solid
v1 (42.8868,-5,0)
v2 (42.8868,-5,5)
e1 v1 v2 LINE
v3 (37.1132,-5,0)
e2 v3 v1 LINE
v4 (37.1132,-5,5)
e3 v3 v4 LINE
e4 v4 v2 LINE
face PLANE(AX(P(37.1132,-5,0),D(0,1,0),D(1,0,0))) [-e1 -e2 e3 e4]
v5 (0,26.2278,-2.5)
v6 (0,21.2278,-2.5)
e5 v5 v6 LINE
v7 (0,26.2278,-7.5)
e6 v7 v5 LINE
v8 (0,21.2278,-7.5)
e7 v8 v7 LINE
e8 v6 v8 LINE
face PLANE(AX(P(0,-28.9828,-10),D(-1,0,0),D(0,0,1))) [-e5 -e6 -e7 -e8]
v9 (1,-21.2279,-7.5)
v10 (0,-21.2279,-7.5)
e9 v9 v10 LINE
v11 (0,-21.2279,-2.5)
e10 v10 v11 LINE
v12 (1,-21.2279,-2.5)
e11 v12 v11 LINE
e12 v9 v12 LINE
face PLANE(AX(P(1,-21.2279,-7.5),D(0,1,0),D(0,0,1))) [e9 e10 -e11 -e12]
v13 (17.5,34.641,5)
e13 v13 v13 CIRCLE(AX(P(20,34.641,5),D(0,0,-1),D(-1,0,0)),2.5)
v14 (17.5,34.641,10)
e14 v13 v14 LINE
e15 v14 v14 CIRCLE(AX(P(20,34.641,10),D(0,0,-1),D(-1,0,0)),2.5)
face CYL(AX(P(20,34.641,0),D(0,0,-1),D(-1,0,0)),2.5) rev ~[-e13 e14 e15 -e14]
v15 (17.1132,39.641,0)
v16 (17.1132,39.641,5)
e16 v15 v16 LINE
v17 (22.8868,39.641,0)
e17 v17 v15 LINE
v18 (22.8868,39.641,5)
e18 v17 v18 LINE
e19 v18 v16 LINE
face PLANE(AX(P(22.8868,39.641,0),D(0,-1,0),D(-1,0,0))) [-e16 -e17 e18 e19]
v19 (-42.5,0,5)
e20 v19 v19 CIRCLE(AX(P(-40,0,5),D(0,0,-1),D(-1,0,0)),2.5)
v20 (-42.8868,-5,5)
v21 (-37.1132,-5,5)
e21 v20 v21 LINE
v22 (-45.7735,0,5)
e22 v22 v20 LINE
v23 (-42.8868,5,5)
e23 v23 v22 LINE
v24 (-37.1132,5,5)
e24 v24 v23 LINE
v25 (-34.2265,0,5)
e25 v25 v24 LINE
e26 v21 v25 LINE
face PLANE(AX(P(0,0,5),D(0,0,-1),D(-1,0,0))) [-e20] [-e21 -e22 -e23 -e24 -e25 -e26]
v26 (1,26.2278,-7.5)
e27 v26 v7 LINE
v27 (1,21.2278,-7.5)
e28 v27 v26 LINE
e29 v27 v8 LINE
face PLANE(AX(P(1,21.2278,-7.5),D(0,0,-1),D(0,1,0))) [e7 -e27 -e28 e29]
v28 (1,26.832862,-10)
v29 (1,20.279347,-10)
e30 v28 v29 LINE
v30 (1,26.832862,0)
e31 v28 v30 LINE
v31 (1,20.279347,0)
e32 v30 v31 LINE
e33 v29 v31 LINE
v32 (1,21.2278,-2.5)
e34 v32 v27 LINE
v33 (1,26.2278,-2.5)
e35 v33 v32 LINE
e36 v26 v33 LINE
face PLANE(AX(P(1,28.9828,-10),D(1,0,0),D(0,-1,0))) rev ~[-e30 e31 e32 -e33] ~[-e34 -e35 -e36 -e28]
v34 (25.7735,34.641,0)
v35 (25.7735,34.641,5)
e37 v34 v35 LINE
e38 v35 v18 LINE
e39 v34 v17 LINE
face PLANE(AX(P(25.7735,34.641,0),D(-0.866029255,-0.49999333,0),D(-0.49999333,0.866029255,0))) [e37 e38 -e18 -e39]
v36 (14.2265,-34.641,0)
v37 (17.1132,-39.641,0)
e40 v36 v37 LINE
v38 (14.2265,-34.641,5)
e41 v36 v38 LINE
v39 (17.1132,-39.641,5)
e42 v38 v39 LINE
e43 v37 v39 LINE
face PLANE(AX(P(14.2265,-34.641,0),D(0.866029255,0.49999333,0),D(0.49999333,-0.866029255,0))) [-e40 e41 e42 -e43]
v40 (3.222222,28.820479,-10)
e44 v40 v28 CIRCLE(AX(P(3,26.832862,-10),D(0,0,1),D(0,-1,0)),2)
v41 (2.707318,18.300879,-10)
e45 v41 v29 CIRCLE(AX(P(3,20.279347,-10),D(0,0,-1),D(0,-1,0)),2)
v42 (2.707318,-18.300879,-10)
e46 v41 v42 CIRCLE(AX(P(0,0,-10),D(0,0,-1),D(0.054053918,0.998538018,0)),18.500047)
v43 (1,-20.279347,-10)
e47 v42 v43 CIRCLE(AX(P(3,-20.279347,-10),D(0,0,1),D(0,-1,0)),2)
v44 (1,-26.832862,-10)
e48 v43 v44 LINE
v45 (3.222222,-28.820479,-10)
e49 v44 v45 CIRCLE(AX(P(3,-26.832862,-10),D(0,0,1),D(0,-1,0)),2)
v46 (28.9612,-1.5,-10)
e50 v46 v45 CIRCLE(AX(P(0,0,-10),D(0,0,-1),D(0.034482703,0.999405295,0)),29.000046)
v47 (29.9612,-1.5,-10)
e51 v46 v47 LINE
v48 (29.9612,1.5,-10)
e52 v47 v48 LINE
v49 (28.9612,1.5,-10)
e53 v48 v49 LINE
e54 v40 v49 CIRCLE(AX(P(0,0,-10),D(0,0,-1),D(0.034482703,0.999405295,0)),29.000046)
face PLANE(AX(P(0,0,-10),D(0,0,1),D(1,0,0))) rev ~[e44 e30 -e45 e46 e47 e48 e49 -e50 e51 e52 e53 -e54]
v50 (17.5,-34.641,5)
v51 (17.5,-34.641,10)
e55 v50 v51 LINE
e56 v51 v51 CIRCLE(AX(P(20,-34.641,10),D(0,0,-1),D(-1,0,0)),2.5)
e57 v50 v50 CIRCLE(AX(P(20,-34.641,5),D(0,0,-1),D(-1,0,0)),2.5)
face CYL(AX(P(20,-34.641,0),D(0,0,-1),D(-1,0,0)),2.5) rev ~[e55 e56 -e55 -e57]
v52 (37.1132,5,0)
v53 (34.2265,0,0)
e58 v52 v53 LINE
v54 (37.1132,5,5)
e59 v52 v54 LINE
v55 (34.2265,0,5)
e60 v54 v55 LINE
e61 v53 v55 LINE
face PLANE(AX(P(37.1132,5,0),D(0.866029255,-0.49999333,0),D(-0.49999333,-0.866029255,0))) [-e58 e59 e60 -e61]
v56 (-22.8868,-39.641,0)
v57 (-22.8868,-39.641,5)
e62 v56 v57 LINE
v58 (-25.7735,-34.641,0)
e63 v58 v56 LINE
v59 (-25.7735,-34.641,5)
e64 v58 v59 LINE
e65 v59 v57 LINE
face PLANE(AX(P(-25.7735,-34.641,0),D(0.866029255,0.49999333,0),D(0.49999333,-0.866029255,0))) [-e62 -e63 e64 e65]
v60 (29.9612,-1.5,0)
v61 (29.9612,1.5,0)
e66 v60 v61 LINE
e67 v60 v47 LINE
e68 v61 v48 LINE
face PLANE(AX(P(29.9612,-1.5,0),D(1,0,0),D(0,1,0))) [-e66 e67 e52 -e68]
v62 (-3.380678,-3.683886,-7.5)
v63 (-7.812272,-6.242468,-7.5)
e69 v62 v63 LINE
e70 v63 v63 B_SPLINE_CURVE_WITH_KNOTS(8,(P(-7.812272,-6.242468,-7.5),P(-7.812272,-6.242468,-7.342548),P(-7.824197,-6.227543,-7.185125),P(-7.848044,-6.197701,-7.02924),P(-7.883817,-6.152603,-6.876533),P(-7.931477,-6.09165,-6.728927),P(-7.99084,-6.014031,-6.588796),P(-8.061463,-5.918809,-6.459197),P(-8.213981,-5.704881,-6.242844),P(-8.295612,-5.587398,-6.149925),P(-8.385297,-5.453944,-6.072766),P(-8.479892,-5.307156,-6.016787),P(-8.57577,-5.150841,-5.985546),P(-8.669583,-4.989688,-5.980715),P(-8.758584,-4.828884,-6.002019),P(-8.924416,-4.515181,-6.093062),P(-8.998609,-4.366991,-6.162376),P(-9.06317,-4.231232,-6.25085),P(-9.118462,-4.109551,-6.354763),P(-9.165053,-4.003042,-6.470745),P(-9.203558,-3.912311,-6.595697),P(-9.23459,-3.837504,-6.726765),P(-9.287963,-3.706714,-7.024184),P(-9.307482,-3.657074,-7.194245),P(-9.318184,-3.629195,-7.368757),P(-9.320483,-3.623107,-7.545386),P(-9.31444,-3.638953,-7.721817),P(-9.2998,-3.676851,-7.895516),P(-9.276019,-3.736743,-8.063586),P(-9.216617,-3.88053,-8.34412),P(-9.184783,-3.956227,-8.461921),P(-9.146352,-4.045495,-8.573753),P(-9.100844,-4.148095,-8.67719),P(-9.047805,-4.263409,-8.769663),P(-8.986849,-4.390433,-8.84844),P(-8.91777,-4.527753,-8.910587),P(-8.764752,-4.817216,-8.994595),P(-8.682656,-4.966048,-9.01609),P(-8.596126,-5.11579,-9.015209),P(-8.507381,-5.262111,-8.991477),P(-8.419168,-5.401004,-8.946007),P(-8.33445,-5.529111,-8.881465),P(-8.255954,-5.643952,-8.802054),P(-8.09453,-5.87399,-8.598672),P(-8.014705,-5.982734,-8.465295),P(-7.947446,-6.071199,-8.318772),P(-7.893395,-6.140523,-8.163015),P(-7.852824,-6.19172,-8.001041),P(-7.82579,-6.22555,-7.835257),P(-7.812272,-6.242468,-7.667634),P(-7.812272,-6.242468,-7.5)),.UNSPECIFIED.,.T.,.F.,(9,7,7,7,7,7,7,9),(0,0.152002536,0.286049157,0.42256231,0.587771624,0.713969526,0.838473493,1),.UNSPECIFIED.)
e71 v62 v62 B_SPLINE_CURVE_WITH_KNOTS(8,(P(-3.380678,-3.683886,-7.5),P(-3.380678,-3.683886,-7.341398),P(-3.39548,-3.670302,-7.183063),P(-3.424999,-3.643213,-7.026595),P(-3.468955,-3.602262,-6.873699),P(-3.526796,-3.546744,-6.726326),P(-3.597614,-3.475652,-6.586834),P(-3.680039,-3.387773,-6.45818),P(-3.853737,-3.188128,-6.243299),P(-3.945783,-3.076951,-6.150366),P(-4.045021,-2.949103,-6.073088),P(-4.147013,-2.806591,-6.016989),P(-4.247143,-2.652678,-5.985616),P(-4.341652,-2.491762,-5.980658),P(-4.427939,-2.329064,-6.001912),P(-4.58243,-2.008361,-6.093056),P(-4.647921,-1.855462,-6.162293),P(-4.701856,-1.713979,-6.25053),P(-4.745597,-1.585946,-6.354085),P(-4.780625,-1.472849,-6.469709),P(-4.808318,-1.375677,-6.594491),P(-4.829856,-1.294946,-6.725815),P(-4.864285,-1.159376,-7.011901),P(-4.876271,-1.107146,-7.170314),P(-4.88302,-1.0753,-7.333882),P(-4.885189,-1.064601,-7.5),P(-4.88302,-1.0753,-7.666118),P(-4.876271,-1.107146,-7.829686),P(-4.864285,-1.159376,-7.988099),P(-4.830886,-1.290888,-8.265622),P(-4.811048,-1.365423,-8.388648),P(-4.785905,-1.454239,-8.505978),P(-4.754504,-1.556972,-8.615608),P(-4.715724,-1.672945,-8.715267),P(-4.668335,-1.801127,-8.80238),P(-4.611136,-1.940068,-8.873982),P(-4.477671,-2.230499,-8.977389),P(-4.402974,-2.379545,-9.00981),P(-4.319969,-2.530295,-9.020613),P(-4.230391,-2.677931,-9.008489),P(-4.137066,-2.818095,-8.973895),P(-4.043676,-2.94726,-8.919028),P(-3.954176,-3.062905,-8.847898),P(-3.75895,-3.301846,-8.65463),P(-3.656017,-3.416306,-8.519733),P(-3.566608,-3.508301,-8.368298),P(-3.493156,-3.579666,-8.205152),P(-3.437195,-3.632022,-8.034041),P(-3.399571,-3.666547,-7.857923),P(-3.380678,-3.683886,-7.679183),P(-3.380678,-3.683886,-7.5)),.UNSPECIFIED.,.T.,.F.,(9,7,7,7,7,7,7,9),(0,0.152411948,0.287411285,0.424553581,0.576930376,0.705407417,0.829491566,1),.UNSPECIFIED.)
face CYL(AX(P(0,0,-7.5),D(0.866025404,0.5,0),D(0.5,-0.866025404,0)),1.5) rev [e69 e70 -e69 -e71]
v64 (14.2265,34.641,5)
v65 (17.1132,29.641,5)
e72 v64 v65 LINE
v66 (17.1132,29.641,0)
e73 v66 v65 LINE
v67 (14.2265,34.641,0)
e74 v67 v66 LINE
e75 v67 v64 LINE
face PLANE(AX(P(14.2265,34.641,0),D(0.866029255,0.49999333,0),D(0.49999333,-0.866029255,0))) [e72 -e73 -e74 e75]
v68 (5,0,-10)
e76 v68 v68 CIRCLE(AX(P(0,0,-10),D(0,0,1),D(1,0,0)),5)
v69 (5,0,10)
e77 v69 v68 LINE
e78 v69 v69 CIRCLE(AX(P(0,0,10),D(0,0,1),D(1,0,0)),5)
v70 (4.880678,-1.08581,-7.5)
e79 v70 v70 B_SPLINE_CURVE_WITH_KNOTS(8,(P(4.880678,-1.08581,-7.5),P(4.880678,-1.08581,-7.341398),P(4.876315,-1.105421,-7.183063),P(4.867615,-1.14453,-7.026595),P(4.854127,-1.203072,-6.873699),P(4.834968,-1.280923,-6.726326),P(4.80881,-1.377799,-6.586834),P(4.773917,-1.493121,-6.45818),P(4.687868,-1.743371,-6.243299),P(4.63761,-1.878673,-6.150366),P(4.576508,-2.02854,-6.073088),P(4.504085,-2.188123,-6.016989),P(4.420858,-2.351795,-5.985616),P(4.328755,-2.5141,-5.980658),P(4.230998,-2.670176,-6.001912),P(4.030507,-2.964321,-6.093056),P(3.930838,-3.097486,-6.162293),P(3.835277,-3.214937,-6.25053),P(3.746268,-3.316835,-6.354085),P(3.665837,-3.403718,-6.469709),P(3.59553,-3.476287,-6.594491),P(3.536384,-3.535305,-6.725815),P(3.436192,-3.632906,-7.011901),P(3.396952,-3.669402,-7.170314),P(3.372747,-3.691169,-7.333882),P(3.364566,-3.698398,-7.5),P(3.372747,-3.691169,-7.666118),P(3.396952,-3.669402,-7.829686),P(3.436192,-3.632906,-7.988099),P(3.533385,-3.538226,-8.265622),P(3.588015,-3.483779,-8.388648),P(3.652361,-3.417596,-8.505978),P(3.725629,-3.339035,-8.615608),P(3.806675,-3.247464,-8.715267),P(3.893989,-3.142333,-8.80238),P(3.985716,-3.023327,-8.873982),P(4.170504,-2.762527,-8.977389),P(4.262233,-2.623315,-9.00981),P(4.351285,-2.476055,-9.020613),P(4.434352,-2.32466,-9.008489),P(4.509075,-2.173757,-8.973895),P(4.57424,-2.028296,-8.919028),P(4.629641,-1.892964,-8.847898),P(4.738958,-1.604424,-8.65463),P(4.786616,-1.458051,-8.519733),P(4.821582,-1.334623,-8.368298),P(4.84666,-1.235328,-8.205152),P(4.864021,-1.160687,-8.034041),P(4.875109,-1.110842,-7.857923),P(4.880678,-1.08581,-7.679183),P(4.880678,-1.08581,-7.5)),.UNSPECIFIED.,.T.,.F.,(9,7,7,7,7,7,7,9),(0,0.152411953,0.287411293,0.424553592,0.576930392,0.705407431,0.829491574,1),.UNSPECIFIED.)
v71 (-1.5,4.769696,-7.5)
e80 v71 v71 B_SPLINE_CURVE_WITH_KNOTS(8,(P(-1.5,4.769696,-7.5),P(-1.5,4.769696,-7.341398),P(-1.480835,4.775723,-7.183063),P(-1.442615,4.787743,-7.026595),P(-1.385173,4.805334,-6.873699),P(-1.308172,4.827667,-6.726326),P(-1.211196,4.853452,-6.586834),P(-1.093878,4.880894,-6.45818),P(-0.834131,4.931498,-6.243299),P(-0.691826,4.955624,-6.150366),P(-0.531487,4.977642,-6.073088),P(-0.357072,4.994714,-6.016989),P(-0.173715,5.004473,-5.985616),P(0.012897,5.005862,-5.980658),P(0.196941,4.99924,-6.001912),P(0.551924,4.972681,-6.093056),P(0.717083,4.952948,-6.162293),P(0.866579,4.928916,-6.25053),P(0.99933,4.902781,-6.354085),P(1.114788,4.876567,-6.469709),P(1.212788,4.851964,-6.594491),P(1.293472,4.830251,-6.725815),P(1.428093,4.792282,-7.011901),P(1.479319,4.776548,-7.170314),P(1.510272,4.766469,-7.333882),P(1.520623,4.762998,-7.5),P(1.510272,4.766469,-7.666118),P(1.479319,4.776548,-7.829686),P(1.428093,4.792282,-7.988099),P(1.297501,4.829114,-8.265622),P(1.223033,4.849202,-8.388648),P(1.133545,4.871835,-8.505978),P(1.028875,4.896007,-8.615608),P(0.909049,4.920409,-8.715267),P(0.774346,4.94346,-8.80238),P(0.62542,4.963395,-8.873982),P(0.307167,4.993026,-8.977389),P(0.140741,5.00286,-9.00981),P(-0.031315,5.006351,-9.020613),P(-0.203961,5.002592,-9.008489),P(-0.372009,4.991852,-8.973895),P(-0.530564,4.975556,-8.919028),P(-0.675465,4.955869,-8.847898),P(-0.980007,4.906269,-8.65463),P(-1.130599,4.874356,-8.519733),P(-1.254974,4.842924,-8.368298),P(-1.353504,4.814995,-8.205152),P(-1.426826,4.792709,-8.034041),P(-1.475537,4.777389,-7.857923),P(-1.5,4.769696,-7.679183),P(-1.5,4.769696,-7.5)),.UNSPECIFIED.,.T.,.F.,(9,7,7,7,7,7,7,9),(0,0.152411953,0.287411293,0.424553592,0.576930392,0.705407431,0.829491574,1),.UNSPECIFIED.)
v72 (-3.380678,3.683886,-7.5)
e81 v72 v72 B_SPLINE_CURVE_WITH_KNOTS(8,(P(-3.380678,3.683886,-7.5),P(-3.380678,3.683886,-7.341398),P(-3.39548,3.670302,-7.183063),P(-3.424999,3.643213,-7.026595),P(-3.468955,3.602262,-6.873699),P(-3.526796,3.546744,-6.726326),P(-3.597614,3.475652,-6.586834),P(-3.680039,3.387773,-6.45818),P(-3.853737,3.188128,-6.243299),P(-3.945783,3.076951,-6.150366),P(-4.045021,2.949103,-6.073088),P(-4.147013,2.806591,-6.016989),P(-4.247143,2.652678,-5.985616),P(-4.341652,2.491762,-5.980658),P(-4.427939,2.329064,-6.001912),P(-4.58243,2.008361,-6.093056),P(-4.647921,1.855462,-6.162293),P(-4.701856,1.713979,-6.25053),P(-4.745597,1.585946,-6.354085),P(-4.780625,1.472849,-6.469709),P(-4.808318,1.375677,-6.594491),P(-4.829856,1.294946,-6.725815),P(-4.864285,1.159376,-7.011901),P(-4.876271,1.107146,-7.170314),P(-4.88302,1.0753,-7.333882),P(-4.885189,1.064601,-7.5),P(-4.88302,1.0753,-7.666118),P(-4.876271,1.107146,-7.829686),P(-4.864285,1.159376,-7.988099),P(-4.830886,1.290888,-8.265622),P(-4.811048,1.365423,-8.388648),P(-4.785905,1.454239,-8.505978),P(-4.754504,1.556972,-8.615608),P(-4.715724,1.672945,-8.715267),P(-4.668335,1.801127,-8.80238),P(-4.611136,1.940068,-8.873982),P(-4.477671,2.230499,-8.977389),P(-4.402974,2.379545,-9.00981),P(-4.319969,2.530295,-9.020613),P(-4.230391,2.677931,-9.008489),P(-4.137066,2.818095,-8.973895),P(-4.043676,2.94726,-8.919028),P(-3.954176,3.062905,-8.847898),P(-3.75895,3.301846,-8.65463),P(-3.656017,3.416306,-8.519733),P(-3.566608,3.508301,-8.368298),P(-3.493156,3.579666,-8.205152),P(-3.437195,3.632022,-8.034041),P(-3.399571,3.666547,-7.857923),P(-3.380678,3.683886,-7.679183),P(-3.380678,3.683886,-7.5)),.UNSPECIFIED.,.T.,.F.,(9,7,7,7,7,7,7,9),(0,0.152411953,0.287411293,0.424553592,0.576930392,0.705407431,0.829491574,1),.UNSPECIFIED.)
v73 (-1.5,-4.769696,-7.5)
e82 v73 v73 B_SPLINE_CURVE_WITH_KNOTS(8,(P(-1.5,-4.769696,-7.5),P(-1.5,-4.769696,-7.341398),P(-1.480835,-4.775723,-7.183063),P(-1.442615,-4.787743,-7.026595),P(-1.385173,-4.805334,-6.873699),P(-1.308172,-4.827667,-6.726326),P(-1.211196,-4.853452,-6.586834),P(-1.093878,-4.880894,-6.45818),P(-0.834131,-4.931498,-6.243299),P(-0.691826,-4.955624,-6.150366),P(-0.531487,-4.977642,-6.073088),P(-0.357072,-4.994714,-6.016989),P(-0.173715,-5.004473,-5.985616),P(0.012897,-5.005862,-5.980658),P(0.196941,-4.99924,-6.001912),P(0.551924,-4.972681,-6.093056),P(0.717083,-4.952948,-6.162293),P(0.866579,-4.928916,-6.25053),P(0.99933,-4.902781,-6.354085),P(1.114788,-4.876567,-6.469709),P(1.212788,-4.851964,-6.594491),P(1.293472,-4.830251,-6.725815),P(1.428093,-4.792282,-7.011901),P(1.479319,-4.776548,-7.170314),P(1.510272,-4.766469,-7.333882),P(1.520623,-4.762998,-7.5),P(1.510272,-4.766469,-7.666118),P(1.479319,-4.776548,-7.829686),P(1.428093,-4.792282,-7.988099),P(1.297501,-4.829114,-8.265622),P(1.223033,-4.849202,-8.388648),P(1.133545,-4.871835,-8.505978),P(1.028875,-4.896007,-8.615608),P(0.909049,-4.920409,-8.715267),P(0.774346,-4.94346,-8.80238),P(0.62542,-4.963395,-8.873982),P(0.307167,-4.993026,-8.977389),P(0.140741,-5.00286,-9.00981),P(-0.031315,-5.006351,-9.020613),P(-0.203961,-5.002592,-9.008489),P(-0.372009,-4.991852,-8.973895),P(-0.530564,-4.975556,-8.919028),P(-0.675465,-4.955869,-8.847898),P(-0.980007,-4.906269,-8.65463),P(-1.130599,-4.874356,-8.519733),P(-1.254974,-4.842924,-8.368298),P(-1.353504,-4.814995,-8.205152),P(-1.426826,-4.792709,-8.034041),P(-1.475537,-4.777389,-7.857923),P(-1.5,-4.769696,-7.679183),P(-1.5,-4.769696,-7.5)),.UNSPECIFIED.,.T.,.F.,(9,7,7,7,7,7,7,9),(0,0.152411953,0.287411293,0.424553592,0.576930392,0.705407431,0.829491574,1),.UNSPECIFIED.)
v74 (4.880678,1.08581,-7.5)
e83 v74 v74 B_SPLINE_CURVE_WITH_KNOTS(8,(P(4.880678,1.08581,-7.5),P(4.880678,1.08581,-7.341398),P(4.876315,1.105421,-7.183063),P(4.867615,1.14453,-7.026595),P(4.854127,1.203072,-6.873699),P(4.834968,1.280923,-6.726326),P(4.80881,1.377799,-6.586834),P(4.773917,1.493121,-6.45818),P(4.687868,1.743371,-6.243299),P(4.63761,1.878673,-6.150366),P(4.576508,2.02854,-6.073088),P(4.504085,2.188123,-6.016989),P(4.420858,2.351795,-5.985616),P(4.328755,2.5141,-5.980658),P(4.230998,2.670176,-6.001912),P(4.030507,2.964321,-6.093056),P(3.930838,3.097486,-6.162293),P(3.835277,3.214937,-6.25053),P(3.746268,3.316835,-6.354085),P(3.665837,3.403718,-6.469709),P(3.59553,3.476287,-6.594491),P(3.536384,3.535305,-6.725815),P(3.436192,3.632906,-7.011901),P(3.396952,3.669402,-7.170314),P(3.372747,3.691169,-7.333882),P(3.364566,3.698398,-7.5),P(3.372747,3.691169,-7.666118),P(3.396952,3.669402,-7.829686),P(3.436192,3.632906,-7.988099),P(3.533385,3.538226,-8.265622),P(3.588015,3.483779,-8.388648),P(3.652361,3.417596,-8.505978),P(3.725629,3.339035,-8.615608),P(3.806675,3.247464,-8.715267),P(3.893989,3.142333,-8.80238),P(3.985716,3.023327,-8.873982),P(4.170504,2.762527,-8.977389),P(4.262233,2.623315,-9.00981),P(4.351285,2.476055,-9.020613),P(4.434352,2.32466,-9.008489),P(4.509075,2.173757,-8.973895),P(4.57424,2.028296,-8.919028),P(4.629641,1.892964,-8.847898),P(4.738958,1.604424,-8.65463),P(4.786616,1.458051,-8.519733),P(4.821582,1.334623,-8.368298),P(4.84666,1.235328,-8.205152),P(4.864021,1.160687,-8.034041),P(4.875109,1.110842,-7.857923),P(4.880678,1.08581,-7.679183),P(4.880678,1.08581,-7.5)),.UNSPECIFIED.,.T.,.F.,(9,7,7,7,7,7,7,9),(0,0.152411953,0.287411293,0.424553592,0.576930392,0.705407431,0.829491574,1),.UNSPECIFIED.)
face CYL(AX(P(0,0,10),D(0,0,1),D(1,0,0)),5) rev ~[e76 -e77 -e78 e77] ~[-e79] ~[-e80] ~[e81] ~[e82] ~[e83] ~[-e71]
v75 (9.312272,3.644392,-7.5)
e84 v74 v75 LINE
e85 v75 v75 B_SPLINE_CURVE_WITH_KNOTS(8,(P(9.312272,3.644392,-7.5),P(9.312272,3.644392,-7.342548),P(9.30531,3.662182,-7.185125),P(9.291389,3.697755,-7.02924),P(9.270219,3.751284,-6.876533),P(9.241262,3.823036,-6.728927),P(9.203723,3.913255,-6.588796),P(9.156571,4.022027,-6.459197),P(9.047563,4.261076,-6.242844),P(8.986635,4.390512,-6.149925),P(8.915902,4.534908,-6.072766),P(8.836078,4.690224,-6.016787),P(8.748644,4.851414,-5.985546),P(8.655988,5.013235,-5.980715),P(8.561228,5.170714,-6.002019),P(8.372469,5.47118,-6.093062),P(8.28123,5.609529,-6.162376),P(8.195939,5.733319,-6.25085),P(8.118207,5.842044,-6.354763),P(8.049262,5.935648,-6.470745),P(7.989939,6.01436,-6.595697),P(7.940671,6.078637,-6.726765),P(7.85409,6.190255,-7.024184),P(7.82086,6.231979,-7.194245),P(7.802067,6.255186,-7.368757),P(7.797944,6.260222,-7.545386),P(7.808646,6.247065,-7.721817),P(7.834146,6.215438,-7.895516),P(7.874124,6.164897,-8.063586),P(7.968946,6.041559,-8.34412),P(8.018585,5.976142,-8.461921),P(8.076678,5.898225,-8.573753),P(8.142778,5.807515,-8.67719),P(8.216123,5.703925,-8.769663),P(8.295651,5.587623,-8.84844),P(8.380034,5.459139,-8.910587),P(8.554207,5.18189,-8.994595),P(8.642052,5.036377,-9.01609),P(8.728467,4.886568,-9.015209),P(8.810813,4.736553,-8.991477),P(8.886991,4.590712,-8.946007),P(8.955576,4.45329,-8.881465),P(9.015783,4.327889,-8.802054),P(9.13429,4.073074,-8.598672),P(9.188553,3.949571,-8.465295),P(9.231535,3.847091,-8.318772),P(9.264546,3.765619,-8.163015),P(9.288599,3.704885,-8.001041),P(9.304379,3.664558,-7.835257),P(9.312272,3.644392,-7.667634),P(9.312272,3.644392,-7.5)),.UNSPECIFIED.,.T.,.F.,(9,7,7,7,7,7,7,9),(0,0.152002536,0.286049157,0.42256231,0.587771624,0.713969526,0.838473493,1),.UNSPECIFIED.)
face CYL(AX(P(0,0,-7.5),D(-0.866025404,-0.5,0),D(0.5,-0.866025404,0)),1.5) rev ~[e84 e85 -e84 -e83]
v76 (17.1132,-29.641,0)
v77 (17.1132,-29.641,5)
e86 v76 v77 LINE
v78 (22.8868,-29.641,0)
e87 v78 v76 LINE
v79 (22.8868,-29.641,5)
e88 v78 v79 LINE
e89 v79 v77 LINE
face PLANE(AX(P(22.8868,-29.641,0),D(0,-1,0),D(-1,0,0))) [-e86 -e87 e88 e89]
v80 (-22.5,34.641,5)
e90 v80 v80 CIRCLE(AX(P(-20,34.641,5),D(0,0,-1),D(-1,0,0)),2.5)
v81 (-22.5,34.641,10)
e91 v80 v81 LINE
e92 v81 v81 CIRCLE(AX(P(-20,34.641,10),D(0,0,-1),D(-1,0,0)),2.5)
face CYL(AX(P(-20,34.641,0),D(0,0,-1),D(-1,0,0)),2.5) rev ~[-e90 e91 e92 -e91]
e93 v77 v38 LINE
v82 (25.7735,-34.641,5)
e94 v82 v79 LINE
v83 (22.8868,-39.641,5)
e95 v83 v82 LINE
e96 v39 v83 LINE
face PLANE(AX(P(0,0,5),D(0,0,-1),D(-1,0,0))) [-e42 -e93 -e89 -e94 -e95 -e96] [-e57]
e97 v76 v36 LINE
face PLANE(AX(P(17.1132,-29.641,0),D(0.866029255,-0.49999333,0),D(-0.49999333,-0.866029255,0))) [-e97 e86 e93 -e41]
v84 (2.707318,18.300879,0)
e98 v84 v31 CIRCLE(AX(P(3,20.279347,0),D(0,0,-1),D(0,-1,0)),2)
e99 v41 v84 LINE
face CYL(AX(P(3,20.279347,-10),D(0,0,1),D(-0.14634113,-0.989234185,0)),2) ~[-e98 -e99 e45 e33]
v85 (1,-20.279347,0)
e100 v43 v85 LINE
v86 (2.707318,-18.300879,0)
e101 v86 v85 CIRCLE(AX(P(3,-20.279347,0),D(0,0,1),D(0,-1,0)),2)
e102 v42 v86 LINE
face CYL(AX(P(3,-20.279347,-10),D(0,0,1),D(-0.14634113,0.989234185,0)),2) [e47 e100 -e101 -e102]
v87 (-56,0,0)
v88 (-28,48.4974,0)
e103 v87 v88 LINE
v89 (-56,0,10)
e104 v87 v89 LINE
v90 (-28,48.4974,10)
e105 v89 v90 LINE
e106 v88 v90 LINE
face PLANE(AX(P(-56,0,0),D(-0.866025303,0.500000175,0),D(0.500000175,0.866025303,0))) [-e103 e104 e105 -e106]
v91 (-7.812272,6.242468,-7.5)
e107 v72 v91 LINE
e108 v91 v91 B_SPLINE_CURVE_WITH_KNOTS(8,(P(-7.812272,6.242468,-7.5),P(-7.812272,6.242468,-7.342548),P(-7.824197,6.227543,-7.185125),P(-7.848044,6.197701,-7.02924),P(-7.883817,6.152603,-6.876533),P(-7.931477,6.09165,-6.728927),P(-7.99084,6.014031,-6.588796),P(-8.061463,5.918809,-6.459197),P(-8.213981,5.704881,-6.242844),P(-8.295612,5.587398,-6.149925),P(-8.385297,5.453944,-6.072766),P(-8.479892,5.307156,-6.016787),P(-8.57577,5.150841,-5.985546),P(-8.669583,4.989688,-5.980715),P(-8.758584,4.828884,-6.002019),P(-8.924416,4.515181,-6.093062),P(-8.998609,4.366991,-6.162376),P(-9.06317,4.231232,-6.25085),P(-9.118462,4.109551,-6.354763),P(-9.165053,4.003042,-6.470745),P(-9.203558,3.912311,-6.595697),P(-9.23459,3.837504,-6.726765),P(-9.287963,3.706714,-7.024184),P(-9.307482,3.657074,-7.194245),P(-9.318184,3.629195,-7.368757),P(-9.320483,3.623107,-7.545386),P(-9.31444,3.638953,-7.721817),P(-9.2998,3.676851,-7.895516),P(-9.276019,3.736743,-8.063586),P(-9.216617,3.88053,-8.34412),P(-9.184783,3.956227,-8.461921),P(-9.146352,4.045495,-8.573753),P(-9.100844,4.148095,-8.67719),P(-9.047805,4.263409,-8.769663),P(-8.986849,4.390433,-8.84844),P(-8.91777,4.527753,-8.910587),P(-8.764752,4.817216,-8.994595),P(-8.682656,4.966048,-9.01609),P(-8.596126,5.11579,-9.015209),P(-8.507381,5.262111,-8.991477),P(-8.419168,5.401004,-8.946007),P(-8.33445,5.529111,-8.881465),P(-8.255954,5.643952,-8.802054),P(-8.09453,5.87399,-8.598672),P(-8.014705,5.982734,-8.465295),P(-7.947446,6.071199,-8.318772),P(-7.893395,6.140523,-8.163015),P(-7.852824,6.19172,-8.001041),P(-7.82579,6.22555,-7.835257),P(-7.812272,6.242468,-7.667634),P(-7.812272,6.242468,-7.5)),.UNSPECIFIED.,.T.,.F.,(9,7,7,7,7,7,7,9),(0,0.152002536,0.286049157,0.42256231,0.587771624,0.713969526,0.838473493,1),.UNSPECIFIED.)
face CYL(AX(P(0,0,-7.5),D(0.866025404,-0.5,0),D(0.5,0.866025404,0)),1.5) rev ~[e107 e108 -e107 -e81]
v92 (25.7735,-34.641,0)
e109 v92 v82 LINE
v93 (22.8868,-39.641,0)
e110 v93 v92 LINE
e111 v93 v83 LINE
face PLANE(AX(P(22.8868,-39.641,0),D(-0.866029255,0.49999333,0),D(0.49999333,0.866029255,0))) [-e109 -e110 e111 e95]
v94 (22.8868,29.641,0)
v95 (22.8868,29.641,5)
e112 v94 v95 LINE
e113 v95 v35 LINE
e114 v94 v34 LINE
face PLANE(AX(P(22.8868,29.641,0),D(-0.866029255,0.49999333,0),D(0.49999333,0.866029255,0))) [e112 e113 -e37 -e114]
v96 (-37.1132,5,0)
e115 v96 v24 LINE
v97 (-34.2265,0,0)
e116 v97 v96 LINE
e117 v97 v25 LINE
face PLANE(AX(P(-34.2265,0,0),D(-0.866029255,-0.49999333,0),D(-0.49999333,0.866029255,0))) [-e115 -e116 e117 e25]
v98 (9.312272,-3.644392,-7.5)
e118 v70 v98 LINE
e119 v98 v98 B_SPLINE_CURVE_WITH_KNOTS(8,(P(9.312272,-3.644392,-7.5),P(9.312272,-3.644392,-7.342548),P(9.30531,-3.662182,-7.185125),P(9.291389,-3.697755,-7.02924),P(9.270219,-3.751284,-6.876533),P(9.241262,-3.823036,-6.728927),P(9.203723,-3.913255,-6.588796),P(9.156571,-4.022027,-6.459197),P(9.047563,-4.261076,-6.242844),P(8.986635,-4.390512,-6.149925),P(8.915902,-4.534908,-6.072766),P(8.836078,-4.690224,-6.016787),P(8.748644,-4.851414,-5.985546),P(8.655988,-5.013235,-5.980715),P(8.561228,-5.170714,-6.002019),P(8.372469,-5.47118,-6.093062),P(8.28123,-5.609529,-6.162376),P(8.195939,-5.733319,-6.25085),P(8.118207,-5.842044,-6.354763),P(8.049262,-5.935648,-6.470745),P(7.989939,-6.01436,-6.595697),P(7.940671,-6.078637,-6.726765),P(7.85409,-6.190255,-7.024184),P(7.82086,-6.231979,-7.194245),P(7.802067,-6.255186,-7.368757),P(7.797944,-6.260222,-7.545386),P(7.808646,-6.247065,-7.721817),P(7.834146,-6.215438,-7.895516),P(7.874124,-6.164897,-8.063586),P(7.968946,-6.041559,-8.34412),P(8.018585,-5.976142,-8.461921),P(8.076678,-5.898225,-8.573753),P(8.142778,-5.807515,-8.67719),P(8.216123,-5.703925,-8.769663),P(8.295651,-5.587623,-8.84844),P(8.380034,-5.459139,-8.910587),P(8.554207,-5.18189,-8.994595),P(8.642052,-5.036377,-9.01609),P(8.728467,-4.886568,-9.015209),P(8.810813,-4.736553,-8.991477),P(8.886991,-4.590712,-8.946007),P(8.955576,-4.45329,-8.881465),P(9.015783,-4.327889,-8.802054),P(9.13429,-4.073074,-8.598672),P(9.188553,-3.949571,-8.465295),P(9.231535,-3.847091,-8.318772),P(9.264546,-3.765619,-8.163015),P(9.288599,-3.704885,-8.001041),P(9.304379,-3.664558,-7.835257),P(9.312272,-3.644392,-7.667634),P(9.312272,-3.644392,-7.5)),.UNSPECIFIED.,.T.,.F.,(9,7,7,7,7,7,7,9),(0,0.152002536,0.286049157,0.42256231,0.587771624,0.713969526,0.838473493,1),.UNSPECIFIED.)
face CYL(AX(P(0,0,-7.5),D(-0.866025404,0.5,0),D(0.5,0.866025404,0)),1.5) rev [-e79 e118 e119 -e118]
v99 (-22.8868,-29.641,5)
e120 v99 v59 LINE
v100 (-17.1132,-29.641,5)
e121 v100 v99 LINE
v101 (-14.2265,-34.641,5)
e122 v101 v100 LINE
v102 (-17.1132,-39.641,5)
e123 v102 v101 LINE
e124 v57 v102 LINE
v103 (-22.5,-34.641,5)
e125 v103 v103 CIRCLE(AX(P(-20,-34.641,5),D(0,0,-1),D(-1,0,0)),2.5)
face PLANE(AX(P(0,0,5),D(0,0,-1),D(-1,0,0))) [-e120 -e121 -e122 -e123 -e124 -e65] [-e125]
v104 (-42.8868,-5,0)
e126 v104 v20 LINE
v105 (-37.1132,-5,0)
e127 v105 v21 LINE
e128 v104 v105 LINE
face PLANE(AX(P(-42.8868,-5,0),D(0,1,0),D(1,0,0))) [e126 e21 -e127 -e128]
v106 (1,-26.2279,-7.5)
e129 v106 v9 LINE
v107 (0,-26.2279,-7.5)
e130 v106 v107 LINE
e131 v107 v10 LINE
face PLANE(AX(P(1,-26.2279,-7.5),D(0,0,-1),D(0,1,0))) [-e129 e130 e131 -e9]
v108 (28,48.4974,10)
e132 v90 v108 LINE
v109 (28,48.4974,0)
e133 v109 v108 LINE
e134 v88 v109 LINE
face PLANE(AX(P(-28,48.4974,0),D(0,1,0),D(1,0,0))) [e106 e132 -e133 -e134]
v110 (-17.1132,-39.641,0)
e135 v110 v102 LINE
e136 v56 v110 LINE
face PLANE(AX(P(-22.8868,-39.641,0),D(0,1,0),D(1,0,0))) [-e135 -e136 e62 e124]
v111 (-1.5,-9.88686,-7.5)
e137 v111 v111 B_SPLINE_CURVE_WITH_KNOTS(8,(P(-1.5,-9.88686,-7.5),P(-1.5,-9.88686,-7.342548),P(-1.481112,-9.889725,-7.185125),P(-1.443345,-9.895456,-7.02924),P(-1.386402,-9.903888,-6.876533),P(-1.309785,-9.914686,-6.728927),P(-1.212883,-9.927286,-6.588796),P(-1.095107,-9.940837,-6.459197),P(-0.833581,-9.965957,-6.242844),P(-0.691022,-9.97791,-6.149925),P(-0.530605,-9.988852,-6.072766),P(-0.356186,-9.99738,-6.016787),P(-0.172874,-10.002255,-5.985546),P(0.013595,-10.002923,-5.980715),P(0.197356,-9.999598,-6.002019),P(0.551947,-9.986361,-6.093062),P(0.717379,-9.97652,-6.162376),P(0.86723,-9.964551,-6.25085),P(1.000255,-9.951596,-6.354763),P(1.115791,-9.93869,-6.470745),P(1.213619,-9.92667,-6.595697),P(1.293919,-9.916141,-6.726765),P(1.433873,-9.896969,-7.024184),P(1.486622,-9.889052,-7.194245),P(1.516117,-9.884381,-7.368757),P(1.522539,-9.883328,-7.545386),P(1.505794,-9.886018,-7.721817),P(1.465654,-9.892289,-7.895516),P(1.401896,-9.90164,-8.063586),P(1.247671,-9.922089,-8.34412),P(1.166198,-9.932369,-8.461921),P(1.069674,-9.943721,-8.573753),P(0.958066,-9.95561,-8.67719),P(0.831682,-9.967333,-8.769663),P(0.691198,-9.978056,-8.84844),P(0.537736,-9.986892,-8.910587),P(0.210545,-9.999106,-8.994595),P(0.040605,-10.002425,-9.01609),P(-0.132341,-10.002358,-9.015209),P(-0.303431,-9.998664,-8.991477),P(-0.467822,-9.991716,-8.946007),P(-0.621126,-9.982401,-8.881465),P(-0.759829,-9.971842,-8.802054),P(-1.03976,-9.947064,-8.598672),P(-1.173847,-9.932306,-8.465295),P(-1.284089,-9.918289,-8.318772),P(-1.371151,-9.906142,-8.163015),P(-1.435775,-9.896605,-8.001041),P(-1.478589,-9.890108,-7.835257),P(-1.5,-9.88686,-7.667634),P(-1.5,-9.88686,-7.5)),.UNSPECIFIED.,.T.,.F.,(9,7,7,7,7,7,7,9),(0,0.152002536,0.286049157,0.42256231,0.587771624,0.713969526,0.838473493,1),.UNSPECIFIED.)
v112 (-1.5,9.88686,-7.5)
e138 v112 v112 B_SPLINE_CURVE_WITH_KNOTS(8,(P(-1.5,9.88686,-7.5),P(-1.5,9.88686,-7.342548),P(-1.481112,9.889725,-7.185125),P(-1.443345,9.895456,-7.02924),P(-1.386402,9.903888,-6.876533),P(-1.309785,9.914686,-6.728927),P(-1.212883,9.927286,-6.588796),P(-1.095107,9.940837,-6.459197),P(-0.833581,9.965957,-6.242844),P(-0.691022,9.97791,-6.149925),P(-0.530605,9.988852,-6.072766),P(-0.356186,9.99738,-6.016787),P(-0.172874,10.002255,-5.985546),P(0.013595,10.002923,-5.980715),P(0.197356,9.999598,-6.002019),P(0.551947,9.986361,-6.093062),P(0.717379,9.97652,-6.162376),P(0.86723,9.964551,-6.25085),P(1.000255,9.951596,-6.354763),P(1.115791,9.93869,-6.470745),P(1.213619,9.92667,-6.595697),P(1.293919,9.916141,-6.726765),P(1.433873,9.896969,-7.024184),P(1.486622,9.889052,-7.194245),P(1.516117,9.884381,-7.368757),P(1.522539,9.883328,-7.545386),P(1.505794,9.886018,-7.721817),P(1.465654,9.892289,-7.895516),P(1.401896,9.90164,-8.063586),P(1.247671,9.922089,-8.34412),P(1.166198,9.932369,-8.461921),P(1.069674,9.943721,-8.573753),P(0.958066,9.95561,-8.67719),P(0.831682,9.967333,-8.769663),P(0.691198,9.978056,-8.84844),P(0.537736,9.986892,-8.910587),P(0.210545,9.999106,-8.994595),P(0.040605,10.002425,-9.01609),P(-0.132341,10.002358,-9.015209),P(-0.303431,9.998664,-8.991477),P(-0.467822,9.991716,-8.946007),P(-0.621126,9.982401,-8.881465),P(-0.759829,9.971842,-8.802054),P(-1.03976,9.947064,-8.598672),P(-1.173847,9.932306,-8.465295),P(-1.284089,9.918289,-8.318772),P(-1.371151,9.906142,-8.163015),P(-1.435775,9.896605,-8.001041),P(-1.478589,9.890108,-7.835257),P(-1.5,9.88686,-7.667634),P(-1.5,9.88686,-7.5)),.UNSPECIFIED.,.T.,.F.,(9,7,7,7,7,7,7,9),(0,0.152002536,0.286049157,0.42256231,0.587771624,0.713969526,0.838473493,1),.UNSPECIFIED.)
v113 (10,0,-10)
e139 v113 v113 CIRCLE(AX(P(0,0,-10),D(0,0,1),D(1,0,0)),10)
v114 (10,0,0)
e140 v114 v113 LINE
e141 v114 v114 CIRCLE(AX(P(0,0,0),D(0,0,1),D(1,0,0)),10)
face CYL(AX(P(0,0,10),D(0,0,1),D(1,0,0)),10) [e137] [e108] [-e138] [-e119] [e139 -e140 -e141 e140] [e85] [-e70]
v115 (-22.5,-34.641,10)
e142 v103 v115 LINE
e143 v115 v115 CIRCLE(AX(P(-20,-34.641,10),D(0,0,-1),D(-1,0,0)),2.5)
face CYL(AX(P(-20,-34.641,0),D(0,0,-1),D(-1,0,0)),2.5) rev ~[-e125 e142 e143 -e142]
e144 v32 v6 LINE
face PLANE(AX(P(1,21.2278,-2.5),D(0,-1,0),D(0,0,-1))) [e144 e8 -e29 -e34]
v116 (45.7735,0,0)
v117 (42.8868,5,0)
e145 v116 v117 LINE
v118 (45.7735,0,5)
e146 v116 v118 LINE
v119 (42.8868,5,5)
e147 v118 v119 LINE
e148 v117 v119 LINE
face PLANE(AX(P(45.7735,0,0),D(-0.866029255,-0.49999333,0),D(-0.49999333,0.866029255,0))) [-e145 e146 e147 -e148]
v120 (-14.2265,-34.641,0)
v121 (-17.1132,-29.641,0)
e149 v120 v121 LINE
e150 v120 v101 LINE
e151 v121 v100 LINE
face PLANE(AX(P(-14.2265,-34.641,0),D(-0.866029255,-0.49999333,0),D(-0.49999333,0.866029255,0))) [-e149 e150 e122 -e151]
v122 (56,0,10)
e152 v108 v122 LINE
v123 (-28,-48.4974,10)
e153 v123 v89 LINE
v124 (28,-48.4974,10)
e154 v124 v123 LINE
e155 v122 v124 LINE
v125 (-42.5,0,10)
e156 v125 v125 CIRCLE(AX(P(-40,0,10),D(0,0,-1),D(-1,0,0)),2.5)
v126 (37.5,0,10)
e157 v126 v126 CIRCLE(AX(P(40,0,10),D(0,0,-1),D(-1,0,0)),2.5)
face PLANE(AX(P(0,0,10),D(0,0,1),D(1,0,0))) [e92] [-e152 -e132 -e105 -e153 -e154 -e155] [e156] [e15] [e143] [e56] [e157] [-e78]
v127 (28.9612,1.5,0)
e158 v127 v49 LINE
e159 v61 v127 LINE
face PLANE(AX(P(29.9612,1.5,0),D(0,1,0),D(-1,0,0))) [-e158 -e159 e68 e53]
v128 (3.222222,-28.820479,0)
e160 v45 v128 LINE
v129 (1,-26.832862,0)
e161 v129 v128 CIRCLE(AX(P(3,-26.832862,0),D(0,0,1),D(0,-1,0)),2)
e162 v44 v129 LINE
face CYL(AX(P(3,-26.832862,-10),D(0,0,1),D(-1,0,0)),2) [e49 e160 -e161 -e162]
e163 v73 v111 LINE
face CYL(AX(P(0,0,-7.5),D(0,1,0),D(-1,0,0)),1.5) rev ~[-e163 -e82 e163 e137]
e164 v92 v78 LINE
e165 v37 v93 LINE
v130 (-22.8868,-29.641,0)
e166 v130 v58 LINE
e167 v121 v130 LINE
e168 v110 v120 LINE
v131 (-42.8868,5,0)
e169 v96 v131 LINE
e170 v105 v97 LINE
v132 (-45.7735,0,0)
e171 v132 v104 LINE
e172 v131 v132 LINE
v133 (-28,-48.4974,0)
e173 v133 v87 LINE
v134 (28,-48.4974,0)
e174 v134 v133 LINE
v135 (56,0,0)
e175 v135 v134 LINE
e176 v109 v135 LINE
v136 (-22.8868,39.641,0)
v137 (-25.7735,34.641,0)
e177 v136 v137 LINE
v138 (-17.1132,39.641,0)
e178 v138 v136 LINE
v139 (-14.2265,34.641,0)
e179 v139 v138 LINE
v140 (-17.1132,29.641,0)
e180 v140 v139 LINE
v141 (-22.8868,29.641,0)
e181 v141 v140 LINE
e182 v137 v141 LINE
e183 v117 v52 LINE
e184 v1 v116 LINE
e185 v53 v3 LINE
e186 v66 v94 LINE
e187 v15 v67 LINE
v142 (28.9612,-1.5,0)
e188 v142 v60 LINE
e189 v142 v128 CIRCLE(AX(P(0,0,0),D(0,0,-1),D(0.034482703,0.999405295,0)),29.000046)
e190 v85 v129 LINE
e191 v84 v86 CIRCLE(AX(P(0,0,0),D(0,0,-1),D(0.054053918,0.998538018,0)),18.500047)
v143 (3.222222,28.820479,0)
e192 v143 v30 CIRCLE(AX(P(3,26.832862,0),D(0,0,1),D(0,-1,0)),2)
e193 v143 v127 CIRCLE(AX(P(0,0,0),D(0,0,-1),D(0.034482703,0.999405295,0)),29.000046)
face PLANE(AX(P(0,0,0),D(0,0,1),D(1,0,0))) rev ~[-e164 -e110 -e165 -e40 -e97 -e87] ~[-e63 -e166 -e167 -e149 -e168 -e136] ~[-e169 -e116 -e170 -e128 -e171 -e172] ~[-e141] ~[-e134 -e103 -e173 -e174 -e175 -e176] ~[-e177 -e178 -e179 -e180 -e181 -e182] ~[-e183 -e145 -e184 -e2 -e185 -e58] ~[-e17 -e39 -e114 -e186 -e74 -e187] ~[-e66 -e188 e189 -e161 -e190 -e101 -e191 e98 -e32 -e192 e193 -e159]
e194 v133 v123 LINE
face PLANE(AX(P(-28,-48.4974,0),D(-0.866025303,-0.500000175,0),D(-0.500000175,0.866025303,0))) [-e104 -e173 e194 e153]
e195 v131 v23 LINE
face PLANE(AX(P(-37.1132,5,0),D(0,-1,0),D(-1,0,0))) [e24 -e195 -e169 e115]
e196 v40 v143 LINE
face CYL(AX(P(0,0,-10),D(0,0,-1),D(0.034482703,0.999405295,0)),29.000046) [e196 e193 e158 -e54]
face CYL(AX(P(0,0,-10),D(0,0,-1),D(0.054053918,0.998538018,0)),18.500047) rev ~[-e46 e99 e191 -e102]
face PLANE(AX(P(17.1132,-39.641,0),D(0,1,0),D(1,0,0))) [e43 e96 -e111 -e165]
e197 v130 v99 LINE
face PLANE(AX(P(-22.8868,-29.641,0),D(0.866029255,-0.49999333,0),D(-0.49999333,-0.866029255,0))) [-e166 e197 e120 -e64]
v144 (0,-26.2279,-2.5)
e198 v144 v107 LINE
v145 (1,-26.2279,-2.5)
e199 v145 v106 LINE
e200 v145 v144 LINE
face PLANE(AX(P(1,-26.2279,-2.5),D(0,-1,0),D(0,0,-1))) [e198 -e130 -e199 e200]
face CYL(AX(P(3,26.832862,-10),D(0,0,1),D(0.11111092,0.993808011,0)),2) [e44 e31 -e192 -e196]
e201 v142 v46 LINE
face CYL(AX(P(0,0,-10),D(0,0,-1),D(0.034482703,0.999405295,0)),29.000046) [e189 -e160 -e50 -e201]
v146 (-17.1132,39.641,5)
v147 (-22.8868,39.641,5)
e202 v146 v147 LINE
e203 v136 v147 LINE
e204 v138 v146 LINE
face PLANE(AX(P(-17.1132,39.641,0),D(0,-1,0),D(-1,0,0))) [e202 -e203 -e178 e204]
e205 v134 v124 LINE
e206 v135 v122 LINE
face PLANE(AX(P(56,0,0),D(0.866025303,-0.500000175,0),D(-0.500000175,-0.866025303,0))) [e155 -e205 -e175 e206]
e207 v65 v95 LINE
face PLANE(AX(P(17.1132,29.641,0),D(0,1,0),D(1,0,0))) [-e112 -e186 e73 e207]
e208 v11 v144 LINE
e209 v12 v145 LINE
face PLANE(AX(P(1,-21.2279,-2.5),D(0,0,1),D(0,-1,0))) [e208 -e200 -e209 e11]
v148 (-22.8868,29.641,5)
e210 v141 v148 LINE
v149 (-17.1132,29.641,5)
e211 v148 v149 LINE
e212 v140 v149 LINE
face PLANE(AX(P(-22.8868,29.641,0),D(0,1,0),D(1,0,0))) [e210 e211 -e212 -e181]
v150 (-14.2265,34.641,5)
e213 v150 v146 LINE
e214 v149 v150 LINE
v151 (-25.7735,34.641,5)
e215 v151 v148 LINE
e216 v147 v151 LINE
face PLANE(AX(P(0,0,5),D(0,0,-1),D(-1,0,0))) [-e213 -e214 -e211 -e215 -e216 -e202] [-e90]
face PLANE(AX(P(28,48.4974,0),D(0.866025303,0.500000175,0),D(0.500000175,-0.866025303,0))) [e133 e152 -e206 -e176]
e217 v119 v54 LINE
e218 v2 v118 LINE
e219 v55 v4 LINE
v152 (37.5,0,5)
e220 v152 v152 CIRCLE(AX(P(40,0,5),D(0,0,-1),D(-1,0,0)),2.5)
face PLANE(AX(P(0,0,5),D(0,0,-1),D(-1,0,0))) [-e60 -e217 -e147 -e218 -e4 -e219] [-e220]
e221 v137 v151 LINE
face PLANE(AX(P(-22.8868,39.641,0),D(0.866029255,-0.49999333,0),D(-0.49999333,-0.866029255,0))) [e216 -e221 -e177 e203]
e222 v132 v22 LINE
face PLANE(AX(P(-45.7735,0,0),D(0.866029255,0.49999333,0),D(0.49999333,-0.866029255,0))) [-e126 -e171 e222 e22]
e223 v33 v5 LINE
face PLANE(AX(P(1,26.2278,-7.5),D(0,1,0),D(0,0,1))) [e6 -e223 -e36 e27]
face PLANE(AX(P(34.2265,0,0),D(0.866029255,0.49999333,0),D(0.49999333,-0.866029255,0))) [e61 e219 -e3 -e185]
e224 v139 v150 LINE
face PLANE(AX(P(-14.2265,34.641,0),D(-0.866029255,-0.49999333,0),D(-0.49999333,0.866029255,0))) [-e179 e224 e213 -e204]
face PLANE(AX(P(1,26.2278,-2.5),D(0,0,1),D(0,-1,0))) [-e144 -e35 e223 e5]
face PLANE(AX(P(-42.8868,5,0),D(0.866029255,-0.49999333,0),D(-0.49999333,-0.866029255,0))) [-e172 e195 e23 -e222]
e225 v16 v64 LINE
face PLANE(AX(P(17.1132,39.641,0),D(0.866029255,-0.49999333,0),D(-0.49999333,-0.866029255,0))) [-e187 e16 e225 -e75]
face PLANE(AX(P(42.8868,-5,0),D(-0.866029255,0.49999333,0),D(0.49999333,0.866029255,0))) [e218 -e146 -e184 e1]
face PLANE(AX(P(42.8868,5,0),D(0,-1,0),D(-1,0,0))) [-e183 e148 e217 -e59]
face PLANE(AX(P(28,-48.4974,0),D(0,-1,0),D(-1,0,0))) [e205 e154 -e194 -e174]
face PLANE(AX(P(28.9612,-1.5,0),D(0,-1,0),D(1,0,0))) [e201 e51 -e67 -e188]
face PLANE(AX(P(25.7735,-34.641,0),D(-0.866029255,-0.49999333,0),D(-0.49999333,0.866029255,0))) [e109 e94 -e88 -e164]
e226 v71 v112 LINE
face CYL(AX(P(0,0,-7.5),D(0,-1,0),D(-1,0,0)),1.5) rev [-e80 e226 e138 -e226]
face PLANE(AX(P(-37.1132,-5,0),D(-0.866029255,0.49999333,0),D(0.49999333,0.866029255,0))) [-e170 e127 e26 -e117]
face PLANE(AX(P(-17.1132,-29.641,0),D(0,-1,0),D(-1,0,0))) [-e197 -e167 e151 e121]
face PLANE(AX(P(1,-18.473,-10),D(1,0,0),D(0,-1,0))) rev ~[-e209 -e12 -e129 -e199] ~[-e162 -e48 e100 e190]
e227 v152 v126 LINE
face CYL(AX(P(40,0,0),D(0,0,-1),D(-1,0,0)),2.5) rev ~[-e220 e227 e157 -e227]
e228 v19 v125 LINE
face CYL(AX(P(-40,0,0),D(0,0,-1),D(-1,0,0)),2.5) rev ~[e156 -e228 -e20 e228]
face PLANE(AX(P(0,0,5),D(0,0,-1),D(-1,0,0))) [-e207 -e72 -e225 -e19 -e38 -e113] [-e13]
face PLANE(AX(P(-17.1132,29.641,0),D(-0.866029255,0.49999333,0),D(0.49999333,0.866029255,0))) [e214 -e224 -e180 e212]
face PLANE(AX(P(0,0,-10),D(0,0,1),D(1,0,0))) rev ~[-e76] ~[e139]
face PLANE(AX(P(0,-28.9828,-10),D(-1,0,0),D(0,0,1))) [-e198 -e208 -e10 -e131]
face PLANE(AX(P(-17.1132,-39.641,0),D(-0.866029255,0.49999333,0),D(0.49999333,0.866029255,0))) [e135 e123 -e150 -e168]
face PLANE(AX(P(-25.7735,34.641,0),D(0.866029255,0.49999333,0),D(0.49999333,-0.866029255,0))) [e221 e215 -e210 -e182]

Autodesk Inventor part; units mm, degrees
ref_plane "YZ Plane" through (0, 0, 0) normal (1, 0, 0) x (0, 1, 0)
ref_plane "XZ Plane" through (0, 0, 0) normal (0, 1, 0) x (-1, 0, 0)
ref_plane "XY Plane" through (0, 0, 0) normal (0, 0, 1) x (1, 0, 0)
sketch "Sketch1" plane through (0, 0, 0) normal (0, 0, 1) x (1, 0, 0)
  line L0 (56, 0) -> (28, -48.4974)
  line L1 (28, -48.4974) -> (-28, -48.4974)
  line L2 (-28, -48.4974) -> (-56, 0)
  line L3 (-56, 0) -> (-28, 48.4974)
  line L4 (-28, 48.4974) -> (28, 48.4974)
  line L5 (28, 48.4974) -> (56, 0)
  circle A0 centre (0, 0) radius 10
  circle A1 centre (0, 0) radius 17.5
  circle A2 centre (0, 0) radius 30
  line L6 (0, 17.5) -> (0, 30)
  line L7 (0, -17.5) -> (0, -30)
  dimension "d0" = 112
  dimension "d1" = 20
  dimension "d2" = 35
  dimension "d3" = 60
extrude "Extrusion1" add sketch "Sketch1" along normal blind 10 contours L0 L1 L2 L3 L4 L5 | A1 | A1 L6 A2 L7 | A1 L7 A2 L6
extrude "Extrusion2" add sketch "Sketch1" against normal blind 10 contours A1 L6 A2 L7 picked at (25.4364, -3.5232)
sketch "Sketch2" plane through (0, 0, -10) normal (0, 0, -1) x (-1, 0, 0)
  arc A0 (0, 17.5) -> (0, -17.5) centre (0, 0) ccw projected
  line L0 (0, 17.5) -> (0, 30) projected
  arc A1 (0, 30) -> (0, -30) centre (0, 0) ccw projected
  line L1 (0, -30) -> (0, -17.5) projected
  arc A2 (-1, 28.9828) -> (-1, -28.9828) centre (0, 0) ccw
  line L2 (-1, 28.9828) -> (-1, 18.473)
  arc A3 (-1, 18.473) -> (-1, -18.473) centre (0, 0) ccw
  line L3 (-1, -18.473) -> (-1, -28.9828)
  dimension "d8" = 1
extrude "Extrusion3" cut sketch "Sketch2" against normal blind 10
sketch "Sketch3" plane through (0, 0, 0) normal (0, 0, -1) x (-1, 0, 0)
  line L0 (45.7735, 0) -> (42.8868, -5)
  line L1 (42.8868, -5) -> (37.1132, -5)
  line L2 (37.1132, -5) -> (34.2265, 0)
  line L3 (34.2265, 0) -> (37.1132, 5)
  line L4 (37.1132, 5) -> (42.8868, 5)
  line L5 (42.8868, 5) -> (45.7735, 0)
  line L6 (22.8868, 39.641) -> (25.7735, 34.641)
  line L7 (25.7735, 34.641) -> (22.8868, 29.641)
  line L8 (22.8868, 29.641) -> (17.1132, 29.641)
  line L9 (17.1132, 29.641) -> (14.2265, 34.641)
  line L10 (14.2265, 34.641) -> (17.1132, 39.641)
  line L11 (17.1132, 39.641) -> (22.8868, 39.641)
  line L12 (-22.8868, 39.641) -> (-17.1132, 39.641)
  line L13 (-17.1132, 39.641) -> (-14.2265, 34.641)
  line L14 (-14.2265, 34.641) -> (-17.1132, 29.641)
  line L15 (-17.1132, 29.641) -> (-22.8868, 29.641)
  line L16 (-22.8868, 29.641) -> (-25.7735, 34.641)
  line L17 (-25.7735, 34.641) -> (-22.8868, 39.641)
  line L18 (-45.7735, 0) -> (-42.8868, 5)
  line L19 (-42.8868, 5) -> (-37.1132, 5)
  line L20 (-37.1132, 5) -> (-34.2265, 0)
  line L21 (-34.2265, 0) -> (-37.1132, -5)
  line L22 (-37.1132, -5) -> (-42.8868, -5)
  line L23 (-42.8868, -5) -> (-45.7735, 0)
  line L24 (-22.8868, -39.641) -> (-25.7735, -34.641)
  line L25 (-25.7735, -34.641) -> (-22.8868, -29.641)
  line L26 (-22.8868, -29.641) -> (-17.1132, -29.641)
  line L27 (-17.1132, -29.641) -> (-14.2265, -34.641)
  line L28 (-14.2265, -34.641) -> (-17.1132, -39.641)
  line L29 (-17.1132, -39.641) -> (-22.8868, -39.641)
  line L30 (22.8868, -39.641) -> (17.1132, -39.641)
  line L31 (17.1132, -39.641) -> (14.2265, -34.641)
  line L32 (14.2265, -34.641) -> (17.1132, -29.641)
  line L33 (17.1132, -29.641) -> (22.8868, -29.641)
  line L34 (22.8868, -29.641) -> (25.7735, -34.641)
  line L35 (25.7735, -34.641) -> (22.8868, -39.641)
  point P0 (0, 0)
  point P1 (40, 0)
  point P2 (20, 34.641)
  point P3 (-20, 34.641)
  point P4 (-40, 0)
  point P5 (-20, -34.641)
  point P6 (20, -34.641)
  dimension "d11" = 10
  dimension "d12" = 40
  dimension "d15" = 360
extrude "Extrusion4" cut sketch "Sketch3" against normal blind 5
sketch "Sketch4" plane through (0, 0, 0) normal (0, 0, -1) x (-1, 0, 0)
  circle A0 centre (40, 0) radius 2.5
  circle A1 centre (20, 34.641) radius 2.5
  circle A2 centre (-20, 34.641) radius 2.5
  circle A3 centre (-40, 0) radius 2.5
  circle A4 centre (-20, -34.641) radius 2.5
  circle A5 centre (20, -34.641) radius 2.5
  point P0 (0, 0)
  dimension "d19" = 5
  dimension "d20" = 40
  dimension "d23" = 360
extrude "Extrusion5" cut sketch "Sketch4" against normal through all
sketch "Sketch5" plane through (0, 0, 10) normal (0, 0, 1) x (1, 0, 0)
  circle A0 centre (0, 0) radius 5
  circle A1 centre (0, 0) radius 10 projected
  dimension "d27" = 10
extrude "Extrusion6" add sketch "Sketch5" against normal blind 20
sketch "Sketch6" plane through (0, 0, 0) normal (0, 1, 0) x (-1, 0, 0)
  line L0 (5, -10) -> (-5, -10)
  circle A0 centre (0, -7.5) radius 1.5
  line L1 (5, -10) -> (-5, -10) projected
  point P0 (0, 0)
  point P1 (0, -10)
  dimension "d30" = 3
  dimension "d31" = 2.5
extrude "Extrusion7" cut sketch "Sketch6" along normal mid plane 25
pattern_circular "Circular Pattern1" count 3 over 360 about axis through (0, 0, 10) along (0, 0, -1) of "Extrusion7"
sketch "Sketch7" plane through (0, 0, 0) normal (0, 0, -1) x (-1, 0, 0)
  arc A0 (-1, 28.9828) -> (-1, -28.9828) centre (0, 0) ccw projected
  line L0 (-29.9612, 1.5) -> (-28.9612, 1.5)
  line L1 (-28.9612, 1.5) -> (-28.9612, -1.5)
  line L2 (-28.9612, -1.5) -> (-29.9612, -1.5)
  line L3 (-29.9612, -1.5) -> (-29.9612, 1.5)
  point P0 (-28.9612, 0)
  point P1 (-29, 0)
  dimension "d37" = 1
  dimension "d38" = 3
extrude "Extrusion8" add sketch "Sketch7" along normal blind 10
sketch "Sketch8" plane through (1, -28.9828, -10) normal (-1, 0, 0) x (0, 0, 1)
  line L0 (2.5, 7.7549) -> (7.5, 7.7549)
  line L1 (7.5, 7.7549) -> (7.5, 2.7549)
  line L2 (7.5, 2.7549) -> (2.5, 2.7549)
  line L3 (2.5, 2.7549) -> (2.5, 7.7549)
  line L4 (0, 0) -> (0, 10.5098) projected
  line L5 (0, 10.5098) -> (10, 10.5098) projected
  line L6 (0, 57.9655) -> (10, 57.9655) projected
  line L7 (0, 47.4557) -> (0, 57.9655) projected
  line L8 (2.5, 55.2106) -> (7.5, 55.2106)
  line L9 (7.5, 55.2106) -> (7.5, 50.2106)
  line L10 (7.5, 50.2106) -> (2.5, 50.2106)
  line L11 (2.5, 50.2106) -> (2.5, 55.2106)
  point P0 (10, 28.9828)
  point P1 (2.5, 5.2549)
  point P2 (0, 5.2549)
  point P3 (5, 7.7549)
  point P4 (5, 10.5098)
  point P5 (5, 55.2106)
  point P6 (5, 57.9655)
  point P7 (2.5, 52.7106)
  point P8 (0, 52.7106)
  dimension "d41" = 5
  dimension "d42" = 5
  dimension "d43" = 5
  dimension "d44" = 5
extrude "Extrusion9" add sketch "Sketch8" along normal blind 1
fillet "Fillet1" radius 2 4 edges at (1, -28.9828, -5) (1, -18.473, -5) (1, 18.473, -5) (1, 28.9828, -5)
properties part number "TS02" material "ABS Plastic"
